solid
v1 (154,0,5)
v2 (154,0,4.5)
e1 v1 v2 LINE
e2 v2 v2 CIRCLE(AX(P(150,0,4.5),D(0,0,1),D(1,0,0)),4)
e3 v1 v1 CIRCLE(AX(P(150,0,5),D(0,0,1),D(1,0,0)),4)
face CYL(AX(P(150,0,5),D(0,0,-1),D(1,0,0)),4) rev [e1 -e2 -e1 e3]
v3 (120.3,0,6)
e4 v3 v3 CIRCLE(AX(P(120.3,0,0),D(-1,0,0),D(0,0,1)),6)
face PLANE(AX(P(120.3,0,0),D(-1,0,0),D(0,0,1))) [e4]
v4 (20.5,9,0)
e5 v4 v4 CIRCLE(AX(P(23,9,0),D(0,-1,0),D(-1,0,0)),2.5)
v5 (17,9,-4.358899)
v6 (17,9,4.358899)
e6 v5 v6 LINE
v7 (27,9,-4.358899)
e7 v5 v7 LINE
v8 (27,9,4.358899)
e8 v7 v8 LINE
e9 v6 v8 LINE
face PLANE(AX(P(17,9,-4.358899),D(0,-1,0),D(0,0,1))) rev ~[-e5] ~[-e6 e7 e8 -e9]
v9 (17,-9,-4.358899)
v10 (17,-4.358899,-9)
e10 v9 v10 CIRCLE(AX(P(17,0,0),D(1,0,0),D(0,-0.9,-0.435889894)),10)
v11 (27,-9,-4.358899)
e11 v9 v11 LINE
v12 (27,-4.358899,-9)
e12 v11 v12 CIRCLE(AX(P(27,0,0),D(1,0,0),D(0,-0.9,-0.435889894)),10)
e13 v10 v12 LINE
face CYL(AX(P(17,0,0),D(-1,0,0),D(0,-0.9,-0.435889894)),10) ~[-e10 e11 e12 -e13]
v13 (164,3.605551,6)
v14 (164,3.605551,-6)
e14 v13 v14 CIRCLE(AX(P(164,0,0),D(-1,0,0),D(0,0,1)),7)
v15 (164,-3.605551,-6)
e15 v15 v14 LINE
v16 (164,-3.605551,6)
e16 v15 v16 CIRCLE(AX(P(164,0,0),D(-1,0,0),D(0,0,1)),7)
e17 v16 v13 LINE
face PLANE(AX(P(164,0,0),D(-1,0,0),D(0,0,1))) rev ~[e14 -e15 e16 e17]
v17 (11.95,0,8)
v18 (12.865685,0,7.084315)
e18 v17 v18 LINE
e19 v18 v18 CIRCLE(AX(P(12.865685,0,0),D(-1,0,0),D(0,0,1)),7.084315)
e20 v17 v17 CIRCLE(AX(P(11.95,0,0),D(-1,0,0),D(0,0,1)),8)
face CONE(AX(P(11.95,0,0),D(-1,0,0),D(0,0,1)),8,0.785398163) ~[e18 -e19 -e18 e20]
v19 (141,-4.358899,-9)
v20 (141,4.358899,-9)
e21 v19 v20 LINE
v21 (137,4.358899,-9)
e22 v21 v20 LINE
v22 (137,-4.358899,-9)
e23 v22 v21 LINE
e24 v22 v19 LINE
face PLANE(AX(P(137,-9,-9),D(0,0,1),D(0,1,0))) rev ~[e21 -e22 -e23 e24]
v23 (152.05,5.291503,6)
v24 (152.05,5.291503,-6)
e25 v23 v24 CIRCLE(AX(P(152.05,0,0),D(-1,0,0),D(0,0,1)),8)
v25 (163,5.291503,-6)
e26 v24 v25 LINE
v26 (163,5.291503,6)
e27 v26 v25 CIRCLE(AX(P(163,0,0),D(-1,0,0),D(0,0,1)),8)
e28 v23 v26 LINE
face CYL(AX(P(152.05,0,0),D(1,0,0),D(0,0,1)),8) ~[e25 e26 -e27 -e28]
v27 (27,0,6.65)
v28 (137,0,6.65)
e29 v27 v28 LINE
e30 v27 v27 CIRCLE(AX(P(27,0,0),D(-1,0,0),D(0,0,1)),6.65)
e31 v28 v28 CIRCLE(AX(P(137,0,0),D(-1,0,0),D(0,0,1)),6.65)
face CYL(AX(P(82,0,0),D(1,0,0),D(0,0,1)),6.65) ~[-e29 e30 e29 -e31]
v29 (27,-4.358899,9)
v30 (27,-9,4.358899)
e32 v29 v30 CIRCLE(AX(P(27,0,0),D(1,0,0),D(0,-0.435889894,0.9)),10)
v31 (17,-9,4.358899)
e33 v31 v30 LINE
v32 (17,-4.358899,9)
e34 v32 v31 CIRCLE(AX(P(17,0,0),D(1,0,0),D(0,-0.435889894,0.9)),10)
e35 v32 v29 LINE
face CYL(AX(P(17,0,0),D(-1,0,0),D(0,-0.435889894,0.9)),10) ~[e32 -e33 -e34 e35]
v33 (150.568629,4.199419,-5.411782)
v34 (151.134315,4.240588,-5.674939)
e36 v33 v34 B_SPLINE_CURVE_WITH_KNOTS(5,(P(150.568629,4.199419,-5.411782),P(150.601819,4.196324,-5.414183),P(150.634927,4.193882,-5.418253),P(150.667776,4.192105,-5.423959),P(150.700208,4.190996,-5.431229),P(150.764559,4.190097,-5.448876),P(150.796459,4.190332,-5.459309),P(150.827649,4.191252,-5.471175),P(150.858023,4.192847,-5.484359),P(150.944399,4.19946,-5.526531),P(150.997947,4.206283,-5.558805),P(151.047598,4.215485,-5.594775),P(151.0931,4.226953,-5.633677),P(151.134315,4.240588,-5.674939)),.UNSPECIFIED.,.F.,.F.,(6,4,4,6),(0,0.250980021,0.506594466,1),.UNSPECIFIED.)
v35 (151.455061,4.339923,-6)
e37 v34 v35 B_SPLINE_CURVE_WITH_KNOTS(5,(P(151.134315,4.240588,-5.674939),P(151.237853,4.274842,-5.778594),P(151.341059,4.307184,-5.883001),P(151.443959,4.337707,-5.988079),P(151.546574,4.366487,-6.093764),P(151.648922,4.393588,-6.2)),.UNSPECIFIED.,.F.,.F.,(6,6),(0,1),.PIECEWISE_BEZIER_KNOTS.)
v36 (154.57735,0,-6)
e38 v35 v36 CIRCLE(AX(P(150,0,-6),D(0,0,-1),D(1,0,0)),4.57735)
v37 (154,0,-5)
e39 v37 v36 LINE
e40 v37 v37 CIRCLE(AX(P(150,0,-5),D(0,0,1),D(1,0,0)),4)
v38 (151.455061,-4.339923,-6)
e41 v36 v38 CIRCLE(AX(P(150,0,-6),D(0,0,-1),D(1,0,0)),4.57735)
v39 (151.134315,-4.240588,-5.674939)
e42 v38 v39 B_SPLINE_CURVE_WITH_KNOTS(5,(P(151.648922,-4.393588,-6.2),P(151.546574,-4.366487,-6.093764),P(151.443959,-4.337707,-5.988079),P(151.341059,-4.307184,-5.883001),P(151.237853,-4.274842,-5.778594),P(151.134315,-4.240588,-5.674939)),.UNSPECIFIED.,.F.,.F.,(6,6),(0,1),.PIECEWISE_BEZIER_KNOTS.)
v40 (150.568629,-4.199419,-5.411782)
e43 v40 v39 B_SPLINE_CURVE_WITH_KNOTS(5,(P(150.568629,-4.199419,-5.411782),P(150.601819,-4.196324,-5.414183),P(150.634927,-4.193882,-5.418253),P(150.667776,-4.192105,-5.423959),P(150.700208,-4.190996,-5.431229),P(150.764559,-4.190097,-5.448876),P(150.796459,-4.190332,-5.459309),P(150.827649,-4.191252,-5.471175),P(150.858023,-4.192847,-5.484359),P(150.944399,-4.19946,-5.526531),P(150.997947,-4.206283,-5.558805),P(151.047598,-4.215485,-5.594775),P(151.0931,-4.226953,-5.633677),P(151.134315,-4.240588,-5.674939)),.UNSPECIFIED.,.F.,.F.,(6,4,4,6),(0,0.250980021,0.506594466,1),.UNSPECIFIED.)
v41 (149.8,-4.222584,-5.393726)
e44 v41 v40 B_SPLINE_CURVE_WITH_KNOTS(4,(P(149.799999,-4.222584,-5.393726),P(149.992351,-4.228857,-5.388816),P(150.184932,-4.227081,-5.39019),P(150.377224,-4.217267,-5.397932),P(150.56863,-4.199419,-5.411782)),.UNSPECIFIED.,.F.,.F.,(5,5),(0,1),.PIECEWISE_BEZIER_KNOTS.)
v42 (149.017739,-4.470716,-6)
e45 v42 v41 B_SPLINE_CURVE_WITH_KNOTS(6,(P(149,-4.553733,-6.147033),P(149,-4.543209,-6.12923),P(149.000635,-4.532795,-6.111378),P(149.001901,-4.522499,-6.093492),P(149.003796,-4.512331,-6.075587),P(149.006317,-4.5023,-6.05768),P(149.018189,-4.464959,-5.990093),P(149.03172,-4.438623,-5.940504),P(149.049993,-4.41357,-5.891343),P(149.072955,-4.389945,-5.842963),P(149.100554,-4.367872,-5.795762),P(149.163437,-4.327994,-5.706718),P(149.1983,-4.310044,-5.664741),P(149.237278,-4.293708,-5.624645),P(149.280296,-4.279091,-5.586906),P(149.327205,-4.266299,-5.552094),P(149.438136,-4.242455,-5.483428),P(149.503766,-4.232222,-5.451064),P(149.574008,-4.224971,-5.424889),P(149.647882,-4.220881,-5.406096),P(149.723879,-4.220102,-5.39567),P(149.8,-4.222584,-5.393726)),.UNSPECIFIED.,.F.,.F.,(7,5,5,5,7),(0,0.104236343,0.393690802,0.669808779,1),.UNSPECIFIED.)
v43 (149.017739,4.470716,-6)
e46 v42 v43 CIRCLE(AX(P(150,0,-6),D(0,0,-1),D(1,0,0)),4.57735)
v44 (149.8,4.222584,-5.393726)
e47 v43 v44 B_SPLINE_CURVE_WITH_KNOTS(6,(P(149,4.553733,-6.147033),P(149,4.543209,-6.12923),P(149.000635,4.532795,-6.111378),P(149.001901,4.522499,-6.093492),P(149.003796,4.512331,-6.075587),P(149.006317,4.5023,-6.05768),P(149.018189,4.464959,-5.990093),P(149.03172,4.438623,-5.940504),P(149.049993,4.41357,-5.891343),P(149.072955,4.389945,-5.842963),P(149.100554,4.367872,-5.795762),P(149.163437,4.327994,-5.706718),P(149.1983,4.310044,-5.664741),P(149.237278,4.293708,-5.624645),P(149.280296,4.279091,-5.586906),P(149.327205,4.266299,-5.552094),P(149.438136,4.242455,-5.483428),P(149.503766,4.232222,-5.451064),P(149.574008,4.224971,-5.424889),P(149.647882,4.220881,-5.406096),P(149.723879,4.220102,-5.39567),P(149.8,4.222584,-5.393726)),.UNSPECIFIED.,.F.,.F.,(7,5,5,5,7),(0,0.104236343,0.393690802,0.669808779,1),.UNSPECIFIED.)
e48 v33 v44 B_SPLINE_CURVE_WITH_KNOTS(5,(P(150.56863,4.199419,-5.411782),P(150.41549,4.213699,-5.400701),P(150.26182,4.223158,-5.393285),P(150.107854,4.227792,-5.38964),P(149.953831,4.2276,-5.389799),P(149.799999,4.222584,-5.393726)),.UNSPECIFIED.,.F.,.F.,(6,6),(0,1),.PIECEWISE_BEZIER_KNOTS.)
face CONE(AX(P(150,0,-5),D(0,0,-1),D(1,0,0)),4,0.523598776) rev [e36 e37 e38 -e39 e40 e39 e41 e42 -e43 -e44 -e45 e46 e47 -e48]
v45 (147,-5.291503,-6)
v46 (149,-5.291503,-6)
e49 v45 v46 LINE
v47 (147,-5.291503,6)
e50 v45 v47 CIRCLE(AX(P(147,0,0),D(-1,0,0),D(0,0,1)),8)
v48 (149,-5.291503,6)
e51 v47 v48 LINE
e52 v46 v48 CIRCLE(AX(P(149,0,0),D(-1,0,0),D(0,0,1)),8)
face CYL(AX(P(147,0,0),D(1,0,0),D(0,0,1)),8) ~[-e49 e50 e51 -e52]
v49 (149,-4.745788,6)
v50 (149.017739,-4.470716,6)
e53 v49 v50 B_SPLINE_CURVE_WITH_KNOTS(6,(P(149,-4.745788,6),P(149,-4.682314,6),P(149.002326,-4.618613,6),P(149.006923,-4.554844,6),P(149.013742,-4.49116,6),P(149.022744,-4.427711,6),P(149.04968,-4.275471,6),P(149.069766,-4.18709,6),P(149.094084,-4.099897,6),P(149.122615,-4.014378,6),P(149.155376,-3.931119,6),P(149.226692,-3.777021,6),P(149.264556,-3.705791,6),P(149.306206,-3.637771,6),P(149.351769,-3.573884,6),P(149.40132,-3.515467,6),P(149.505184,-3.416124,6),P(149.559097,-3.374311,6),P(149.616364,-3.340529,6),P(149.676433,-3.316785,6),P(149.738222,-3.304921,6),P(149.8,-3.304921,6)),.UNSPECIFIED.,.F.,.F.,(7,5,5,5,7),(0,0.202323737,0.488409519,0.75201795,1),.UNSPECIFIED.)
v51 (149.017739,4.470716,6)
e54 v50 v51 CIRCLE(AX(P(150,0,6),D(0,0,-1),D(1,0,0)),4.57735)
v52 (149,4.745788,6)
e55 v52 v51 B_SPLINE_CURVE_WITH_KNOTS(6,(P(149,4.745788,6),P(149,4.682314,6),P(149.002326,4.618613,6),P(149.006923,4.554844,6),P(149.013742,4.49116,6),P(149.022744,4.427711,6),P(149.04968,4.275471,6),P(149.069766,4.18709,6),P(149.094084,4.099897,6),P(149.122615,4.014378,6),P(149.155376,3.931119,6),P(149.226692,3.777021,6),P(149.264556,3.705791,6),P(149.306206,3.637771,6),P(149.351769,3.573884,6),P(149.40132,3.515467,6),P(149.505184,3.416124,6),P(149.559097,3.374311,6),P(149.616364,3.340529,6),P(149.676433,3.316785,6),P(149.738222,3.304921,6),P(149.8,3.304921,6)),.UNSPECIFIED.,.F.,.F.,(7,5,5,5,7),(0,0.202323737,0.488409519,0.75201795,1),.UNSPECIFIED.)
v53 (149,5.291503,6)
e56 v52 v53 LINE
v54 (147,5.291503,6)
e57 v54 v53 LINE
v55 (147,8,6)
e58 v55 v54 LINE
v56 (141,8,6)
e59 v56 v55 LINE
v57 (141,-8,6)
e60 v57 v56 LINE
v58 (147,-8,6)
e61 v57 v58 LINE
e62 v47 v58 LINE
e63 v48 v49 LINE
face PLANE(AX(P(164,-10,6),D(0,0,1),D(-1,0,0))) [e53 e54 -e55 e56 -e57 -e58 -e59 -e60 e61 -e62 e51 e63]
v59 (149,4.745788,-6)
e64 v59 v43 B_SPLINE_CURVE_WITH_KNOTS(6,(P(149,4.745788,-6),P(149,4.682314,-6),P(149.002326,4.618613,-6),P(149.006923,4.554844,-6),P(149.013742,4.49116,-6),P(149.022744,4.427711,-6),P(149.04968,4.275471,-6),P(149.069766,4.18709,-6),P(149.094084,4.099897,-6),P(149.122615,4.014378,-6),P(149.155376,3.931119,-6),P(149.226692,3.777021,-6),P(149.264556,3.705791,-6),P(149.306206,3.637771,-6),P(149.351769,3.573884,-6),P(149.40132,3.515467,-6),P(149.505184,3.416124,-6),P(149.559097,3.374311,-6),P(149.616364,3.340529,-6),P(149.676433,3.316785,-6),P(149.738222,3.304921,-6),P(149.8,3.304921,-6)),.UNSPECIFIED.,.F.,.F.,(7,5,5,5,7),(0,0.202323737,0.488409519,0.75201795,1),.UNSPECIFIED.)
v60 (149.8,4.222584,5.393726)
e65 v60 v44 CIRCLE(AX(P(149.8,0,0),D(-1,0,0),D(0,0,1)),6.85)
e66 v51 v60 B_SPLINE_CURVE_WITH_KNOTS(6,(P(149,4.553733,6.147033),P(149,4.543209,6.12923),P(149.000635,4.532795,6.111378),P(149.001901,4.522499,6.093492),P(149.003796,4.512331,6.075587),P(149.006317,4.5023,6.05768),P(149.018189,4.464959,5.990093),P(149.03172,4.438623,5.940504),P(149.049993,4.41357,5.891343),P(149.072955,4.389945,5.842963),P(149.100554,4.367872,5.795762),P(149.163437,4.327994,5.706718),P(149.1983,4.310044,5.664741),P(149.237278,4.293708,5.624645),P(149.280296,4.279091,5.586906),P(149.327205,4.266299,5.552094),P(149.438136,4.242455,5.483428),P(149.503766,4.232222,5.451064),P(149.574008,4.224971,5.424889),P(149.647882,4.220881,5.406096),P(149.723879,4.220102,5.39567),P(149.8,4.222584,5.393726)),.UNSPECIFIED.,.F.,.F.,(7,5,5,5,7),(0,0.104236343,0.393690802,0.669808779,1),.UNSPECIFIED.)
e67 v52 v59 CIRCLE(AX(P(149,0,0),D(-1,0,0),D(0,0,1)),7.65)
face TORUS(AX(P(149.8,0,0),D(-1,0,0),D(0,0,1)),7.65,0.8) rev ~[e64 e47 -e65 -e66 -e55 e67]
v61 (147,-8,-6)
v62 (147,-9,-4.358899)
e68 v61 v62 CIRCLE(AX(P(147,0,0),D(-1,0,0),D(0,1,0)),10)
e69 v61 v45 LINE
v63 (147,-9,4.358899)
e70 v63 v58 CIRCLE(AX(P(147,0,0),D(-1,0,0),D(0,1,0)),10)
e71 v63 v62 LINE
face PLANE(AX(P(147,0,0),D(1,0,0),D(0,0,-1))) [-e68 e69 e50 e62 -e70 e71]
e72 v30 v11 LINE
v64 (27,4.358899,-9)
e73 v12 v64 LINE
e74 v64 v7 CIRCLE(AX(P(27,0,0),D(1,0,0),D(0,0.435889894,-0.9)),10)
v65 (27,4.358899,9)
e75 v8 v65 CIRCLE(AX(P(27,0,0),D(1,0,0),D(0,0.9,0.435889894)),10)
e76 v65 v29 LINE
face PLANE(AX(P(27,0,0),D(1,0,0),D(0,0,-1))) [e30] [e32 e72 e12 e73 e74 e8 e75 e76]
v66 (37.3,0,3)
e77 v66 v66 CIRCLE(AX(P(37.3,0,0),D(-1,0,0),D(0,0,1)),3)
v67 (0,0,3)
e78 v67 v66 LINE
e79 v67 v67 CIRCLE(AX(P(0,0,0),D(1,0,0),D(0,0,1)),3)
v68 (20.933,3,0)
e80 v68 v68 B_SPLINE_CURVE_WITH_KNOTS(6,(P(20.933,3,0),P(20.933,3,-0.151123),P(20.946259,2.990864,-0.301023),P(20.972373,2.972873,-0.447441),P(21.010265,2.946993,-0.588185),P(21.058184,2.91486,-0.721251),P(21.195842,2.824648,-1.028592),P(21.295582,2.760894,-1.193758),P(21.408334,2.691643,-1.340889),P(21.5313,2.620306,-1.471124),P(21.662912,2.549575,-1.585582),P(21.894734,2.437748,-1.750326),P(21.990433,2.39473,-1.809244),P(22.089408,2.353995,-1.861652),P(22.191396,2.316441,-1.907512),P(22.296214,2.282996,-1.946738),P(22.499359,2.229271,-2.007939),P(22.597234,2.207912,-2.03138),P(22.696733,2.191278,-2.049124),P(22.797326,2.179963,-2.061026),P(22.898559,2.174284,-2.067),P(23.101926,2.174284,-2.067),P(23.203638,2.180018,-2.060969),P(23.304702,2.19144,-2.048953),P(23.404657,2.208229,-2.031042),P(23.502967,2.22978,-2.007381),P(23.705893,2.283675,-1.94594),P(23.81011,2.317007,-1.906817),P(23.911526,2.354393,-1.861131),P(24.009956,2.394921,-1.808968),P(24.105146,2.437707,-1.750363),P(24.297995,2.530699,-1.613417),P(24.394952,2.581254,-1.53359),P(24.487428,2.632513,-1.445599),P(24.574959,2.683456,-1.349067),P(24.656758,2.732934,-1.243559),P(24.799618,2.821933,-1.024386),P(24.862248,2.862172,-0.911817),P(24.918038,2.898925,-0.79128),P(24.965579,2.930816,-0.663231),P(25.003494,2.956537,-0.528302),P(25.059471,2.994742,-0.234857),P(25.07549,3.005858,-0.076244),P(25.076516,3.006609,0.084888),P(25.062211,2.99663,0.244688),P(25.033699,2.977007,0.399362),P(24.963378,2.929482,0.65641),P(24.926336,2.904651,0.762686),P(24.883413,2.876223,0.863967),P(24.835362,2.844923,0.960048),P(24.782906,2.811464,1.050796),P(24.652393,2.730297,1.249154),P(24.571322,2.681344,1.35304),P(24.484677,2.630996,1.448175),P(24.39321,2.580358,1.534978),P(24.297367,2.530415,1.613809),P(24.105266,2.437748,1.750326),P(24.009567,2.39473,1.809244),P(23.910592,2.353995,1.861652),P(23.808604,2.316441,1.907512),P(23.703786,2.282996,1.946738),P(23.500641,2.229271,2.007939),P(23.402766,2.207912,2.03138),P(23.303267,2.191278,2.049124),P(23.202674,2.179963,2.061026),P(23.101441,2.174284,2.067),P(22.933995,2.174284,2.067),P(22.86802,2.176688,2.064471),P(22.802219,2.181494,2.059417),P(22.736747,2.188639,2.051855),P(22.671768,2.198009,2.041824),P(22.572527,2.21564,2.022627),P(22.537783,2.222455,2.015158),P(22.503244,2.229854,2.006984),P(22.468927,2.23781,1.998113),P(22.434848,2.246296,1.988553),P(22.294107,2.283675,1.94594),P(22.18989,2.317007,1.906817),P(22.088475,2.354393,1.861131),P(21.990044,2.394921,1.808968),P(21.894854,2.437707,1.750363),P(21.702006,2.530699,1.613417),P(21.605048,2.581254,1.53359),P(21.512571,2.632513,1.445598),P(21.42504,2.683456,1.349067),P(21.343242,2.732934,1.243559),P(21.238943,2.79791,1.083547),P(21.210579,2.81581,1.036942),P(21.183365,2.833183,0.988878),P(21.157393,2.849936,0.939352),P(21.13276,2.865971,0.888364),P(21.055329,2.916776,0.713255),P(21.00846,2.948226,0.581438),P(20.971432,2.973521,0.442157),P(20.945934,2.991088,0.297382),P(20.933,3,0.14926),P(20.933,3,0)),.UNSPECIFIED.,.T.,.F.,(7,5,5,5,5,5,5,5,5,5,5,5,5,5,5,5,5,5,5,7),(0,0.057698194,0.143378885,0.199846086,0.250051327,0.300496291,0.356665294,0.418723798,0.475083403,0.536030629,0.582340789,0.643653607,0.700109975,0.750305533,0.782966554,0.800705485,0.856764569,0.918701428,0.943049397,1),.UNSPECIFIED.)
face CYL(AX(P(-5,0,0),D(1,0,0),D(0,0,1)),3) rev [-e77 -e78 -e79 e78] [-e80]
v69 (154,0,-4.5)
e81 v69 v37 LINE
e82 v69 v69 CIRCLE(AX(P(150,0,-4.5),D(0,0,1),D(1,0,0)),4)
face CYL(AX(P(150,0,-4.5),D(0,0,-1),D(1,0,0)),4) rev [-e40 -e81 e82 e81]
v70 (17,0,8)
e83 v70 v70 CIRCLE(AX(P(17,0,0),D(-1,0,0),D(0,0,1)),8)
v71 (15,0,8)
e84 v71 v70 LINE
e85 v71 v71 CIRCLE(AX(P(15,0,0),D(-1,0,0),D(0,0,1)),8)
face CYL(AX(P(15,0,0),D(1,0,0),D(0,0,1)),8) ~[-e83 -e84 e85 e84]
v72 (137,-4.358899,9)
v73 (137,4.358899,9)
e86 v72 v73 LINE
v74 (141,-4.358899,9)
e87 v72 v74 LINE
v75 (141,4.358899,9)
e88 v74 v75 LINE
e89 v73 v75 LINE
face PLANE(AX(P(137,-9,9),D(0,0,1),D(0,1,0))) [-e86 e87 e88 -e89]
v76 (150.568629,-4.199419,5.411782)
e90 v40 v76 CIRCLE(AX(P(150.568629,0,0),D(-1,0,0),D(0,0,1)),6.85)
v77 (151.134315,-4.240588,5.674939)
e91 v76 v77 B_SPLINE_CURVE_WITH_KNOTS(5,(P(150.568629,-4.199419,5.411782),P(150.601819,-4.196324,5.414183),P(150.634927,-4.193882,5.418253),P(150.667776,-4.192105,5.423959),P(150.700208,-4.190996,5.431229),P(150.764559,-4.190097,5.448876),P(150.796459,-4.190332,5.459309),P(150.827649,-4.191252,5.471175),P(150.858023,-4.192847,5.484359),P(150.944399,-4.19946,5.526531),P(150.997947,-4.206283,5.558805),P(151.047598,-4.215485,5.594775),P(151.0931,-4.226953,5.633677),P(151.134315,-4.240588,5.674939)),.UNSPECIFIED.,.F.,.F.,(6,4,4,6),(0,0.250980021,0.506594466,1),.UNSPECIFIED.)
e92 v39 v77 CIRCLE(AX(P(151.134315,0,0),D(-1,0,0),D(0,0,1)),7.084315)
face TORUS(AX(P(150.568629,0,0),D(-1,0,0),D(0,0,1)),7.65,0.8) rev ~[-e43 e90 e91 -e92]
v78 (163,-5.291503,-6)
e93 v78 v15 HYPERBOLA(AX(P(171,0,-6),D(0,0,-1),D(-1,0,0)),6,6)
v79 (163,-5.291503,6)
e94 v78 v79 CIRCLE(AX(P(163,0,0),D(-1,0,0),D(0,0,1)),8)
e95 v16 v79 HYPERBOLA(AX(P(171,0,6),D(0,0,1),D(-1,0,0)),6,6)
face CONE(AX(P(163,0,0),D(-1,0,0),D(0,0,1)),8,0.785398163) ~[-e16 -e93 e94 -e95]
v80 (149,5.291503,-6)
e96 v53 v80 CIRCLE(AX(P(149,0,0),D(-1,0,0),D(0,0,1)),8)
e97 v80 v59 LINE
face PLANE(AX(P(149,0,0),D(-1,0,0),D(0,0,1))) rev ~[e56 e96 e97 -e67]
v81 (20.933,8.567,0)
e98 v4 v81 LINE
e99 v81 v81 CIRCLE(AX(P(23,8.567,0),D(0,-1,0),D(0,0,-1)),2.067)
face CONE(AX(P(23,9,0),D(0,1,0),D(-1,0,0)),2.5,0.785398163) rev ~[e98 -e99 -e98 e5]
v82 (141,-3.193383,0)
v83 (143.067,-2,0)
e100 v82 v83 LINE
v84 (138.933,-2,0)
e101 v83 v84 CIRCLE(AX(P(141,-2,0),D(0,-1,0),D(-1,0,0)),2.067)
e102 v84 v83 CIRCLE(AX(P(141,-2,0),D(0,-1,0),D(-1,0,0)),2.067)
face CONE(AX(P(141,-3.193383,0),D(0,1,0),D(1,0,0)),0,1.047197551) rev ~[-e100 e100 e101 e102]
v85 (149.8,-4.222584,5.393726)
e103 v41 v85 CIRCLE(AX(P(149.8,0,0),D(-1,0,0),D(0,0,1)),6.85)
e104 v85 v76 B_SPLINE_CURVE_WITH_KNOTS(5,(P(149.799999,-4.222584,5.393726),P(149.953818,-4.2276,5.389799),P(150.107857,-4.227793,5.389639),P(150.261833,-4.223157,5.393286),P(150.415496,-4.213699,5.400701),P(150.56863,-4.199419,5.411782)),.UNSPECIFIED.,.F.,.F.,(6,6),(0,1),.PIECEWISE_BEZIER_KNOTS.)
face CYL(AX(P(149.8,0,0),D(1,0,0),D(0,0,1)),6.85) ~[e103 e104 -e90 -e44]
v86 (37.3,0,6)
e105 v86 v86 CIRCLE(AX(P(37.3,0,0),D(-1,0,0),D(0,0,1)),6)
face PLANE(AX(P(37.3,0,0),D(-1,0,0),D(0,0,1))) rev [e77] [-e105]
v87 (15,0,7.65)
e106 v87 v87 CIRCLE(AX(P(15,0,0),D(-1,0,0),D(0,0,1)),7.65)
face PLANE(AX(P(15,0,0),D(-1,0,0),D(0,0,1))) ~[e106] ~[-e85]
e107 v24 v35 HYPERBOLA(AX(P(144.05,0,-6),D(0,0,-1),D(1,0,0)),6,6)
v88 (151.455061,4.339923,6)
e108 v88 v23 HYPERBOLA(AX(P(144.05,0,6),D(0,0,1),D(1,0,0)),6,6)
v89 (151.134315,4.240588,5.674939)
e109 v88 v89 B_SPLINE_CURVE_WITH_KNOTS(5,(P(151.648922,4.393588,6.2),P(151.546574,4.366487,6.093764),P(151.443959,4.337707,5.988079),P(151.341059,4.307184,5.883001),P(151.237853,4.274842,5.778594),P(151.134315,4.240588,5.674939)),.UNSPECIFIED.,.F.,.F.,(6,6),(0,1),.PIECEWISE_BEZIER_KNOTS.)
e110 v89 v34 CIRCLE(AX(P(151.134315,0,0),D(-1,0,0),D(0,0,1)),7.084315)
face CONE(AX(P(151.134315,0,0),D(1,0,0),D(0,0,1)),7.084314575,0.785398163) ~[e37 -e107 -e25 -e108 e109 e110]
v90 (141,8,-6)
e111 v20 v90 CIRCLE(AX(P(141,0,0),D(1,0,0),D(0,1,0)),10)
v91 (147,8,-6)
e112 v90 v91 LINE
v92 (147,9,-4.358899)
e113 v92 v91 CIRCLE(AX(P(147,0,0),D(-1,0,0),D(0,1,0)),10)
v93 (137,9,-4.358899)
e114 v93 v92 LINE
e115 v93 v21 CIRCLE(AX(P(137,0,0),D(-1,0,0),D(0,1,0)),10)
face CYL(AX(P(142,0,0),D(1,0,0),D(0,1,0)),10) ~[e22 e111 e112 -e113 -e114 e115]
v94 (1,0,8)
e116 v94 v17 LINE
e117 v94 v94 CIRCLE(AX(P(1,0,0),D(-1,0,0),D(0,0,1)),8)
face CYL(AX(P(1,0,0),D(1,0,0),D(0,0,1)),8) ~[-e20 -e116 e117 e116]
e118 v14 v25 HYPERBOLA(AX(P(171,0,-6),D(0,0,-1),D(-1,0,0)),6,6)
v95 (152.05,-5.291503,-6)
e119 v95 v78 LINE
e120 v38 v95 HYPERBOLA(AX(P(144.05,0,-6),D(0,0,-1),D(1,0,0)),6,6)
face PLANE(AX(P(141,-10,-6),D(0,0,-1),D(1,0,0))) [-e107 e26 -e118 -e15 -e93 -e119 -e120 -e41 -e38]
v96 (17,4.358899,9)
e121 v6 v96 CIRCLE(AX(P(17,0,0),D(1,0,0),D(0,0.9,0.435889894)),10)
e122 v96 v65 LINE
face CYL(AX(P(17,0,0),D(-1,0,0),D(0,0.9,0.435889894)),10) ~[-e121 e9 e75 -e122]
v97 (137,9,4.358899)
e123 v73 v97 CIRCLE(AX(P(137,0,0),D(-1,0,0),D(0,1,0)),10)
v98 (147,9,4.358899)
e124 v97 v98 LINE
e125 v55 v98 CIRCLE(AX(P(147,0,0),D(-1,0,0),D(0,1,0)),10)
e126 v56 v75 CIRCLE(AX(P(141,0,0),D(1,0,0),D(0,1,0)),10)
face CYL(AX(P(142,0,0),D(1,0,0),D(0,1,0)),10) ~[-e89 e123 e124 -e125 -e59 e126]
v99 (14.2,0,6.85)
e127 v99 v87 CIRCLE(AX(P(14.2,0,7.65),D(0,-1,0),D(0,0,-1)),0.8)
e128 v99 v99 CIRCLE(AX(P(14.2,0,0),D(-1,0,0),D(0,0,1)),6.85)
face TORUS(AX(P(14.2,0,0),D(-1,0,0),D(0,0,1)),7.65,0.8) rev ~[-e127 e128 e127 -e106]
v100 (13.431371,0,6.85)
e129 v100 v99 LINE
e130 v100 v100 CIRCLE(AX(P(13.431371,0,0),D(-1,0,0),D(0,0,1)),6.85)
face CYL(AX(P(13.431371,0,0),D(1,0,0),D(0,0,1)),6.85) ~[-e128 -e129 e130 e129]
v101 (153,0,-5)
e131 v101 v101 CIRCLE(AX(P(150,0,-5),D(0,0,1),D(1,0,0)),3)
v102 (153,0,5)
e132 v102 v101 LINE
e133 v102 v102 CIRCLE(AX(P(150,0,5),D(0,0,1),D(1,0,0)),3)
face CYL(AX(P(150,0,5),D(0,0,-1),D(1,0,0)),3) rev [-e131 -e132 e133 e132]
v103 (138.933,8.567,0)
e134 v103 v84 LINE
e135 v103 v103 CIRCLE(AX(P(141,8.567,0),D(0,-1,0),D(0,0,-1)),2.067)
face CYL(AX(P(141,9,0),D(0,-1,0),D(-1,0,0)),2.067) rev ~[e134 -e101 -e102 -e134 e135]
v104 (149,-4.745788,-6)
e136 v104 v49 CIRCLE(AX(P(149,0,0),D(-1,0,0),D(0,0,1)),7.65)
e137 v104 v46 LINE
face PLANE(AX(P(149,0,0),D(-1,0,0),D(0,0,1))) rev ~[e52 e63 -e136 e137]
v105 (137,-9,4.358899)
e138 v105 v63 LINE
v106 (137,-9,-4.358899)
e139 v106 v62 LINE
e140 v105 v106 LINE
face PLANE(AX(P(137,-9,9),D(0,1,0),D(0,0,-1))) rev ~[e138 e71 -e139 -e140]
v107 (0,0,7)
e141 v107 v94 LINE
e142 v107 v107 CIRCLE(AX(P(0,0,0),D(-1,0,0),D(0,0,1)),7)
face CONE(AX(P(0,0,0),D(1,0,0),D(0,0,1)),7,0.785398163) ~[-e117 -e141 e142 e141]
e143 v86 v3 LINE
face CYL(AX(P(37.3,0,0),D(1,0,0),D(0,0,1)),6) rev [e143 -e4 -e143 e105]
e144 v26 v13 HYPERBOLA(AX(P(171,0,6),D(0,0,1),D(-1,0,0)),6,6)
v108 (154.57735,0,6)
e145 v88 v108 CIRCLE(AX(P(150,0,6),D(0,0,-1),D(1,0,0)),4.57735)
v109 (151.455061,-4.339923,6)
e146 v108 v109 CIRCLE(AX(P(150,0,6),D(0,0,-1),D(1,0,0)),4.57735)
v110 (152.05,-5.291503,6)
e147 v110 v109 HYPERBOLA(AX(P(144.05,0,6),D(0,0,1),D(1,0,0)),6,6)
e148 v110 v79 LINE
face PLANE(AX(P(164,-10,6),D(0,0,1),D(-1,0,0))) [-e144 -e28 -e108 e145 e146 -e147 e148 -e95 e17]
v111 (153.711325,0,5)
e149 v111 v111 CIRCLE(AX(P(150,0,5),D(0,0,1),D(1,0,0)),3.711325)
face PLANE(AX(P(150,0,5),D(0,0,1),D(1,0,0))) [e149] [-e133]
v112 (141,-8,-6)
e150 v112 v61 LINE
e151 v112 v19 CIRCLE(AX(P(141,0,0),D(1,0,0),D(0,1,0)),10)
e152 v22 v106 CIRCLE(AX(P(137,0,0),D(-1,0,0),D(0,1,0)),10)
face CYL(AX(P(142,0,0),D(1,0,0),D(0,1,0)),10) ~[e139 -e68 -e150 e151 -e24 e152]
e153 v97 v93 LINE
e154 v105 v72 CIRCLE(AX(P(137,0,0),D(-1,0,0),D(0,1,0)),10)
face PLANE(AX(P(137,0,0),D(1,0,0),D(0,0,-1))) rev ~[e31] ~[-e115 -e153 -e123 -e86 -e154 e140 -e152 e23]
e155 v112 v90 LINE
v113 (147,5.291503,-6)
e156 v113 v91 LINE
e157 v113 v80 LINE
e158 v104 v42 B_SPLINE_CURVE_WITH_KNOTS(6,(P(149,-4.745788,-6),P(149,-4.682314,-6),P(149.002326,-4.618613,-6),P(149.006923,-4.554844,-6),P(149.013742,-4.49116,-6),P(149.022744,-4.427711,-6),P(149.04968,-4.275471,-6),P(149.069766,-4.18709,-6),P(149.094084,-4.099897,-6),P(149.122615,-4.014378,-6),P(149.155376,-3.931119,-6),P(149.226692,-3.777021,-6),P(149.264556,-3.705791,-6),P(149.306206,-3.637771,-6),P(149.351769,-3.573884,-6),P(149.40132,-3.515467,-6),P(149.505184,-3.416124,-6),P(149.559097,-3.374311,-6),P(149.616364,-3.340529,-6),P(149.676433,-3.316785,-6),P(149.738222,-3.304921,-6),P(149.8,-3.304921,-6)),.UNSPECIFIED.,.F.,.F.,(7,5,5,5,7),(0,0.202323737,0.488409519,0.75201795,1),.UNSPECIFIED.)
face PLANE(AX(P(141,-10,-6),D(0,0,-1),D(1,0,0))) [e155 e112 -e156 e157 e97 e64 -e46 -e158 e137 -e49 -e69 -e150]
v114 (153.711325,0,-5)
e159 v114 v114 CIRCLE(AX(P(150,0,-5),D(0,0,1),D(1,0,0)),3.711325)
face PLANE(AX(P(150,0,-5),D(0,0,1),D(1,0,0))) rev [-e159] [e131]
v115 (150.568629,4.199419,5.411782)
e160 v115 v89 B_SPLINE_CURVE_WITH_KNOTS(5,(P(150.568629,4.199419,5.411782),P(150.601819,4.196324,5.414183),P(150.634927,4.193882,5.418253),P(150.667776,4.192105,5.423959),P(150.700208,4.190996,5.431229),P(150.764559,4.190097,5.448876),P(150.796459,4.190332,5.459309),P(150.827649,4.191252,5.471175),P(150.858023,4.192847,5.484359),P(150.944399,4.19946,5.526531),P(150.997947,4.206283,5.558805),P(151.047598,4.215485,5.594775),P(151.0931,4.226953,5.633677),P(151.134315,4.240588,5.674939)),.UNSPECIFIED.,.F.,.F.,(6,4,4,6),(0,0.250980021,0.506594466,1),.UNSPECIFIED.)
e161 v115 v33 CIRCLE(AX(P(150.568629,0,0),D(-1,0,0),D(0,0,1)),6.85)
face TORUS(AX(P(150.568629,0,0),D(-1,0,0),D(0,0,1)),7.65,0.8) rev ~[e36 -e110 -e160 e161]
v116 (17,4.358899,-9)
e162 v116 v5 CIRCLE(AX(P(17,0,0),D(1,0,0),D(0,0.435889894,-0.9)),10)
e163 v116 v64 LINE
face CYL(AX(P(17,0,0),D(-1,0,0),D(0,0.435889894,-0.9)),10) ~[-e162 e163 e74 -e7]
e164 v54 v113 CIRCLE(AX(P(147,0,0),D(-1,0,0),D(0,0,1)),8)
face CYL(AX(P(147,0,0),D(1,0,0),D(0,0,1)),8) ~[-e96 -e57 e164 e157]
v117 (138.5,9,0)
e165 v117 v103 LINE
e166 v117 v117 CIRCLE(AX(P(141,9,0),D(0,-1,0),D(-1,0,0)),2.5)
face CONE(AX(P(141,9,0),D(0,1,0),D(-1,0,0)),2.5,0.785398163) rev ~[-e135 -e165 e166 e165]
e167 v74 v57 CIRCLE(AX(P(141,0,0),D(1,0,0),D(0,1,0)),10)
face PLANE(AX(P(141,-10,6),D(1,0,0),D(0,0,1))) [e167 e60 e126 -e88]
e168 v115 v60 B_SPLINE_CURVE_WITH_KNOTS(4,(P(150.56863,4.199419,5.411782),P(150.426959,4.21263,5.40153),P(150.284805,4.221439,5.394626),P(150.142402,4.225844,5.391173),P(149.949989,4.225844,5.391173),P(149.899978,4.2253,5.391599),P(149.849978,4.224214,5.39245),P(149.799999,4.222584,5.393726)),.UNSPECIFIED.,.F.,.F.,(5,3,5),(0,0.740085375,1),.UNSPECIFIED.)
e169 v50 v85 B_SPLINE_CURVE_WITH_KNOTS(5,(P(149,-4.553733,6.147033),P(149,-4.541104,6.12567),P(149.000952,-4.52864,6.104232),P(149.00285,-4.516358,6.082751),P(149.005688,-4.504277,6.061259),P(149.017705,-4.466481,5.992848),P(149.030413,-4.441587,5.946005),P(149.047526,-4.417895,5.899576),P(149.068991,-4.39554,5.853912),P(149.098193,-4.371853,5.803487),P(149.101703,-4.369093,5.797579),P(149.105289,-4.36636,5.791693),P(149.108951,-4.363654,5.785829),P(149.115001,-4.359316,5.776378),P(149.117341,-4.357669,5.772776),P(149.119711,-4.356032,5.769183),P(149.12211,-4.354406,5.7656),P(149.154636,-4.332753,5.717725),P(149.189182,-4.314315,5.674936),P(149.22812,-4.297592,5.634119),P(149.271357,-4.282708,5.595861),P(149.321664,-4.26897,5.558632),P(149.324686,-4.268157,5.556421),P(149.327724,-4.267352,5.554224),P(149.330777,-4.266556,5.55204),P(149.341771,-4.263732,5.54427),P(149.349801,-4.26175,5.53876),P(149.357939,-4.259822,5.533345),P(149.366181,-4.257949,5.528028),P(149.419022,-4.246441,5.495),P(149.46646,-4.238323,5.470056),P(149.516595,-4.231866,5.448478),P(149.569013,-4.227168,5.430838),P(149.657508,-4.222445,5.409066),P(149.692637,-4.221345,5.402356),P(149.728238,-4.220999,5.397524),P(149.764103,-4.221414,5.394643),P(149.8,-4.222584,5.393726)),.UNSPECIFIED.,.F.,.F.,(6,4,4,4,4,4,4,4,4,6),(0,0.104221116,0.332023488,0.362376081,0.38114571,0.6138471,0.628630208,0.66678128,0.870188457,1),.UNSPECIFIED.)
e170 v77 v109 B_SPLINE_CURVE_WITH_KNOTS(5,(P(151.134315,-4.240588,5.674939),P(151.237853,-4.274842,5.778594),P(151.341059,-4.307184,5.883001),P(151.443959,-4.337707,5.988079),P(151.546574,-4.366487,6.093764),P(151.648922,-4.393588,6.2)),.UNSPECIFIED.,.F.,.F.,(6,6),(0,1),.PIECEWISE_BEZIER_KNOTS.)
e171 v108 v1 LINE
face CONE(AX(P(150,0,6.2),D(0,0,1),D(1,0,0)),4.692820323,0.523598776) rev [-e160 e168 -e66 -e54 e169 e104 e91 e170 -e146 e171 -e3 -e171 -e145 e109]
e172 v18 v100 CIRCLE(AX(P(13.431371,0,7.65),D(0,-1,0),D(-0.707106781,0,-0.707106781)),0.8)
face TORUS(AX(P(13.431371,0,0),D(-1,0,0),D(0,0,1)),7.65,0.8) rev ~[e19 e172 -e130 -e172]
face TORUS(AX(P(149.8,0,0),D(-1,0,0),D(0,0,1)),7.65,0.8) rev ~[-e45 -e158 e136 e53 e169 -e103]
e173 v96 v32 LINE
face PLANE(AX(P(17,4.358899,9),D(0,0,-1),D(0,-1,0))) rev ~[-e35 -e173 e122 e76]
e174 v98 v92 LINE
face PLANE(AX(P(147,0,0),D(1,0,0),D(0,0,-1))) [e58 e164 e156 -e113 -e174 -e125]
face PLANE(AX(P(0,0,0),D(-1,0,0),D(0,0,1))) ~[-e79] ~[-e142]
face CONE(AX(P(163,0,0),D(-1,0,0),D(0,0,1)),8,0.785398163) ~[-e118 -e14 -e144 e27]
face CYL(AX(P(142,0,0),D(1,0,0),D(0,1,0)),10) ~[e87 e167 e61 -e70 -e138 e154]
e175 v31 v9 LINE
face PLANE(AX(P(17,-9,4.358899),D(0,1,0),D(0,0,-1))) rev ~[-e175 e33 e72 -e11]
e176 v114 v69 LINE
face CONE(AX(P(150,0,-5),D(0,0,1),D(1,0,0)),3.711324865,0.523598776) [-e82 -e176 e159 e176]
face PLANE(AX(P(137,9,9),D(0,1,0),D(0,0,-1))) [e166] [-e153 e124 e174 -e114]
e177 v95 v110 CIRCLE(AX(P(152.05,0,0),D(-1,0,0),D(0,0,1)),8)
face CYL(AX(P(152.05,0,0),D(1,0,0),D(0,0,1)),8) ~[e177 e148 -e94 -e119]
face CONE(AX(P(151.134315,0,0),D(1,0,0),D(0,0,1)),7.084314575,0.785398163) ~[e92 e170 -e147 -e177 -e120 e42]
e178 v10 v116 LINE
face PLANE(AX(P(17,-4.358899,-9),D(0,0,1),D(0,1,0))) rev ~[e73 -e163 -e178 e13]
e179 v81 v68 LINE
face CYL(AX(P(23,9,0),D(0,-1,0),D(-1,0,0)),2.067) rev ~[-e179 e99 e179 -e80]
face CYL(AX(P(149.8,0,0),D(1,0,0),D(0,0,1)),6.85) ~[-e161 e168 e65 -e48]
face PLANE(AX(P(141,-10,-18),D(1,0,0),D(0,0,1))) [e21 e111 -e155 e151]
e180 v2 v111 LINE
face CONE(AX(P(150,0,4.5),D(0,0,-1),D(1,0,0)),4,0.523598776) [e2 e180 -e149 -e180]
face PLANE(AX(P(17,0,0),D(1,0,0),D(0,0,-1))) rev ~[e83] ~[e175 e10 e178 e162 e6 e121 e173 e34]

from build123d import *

# Parameters (mm, degrees)
BOSS_EXTRUDE1_DEPTH     = 10
SKETCH3_W               = 110
SKETCH3_H               = 6.65
SKETCH4_W               = 18
SKETCH4_H               = 18
BOSS_EXTRUDE2_DEPTH     = 10
SKETCH5_W               = 10
SKETCH5_H               = 10
CUT_EXTRUDE1_DEPTH      = 10
CUT_EXTRUDE1_DEPTH_BACK = 10
HOLE1_D                 = 4.134
HOLE1_DEPTH             = 9
HOLE1_CSINK_D           = 5
HOLE1_CSINK_ANGLE       = 90
HOLE2_D                 = 4.134
HOLE2_DEPTH             = 11
HOLE2_CSINK_D           = 5
HOLE2_CSINK_ANGLE       = 90
HOLE2_TIP               = 1.193383006


with BuildPart() as part:
    # Sketch1 → Revolve1 (revolve)
    with BuildSketch(Plane.XY):
        with BuildLine():
            Line((0, 0), (0, 7))
            Line((0, 7), (1, 8))
            Line((1, 8), (11.95, 8))
            Line((11.95, 8), (12.865685425, 7.084314575))
            ThreePointArc((12.865685425, 7.084314575), (13.125224104, 6.910896374), (13.43137085, 6.85))
            Line((13.43137085, 6.85), (14.2, 6.85))
            ThreePointArc((14.2, 6.85), (14.765685425, 7.084314575), (15, 7.65))
            Line((15, 7.65), (15, 8))
            Line((15, 8), (17, 8))
            Line((17, 8), (17, 0))
            Line((17, 0), (0, 0))
        make_face()
    revolve(axis=Axis((17, 0, 0), (-1, 0, 0)))

    # Sketch2 → Boss-Extrude1 (add)
    with BuildSketch(Plane(origin=(17, 0, 0), x_dir=(0, 0, -1), z_dir=(1, 0, 0))):
        with BuildLine():
            Line((-4.358898944, -9), (4.358898944, -9))
            ThreePointArc((4.358898944, -9), (7.071067812, -7.071067812), (9, -4.358898944))
            Line((9, -4.358898944), (9, 4.358898944))
            ThreePointArc((9, 4.358898944), (7.071067812, 7.071067812), (4.358898944, 9))
            Line((4.358898944, 9), (-4.358898944, 9))
            ThreePointArc((-4.358898944, 9), (-7.071067812, 7.071067812), (-9, 4.358898944))
            Line((-9, 4.358898944), (-9, -4.358898944))
            ThreePointArc((-9, -4.358898944), (-7.071067812, -7.071067812), (-4.358898944, -9))
        make_face()
    extrude(amount=BOSS_EXTRUDE1_DEPTH)

    # Sketch3 → Revolve2 (revolve)
    with BuildSketch(Plane.XY):
        with Locations((82, 3.325)):
            Rectangle(SKETCH3_W, SKETCH3_H)
    revolve(axis=Axis((137, 0, 0), (-1, 0, 0)))

    # Sketch4 → Boss-Extrude2 (add)
    with BuildSketch(Plane(origin=(137, 0, 0), x_dir=(0, 0, -1), z_dir=(1, 0, 0))):
        Rectangle(SKETCH4_W, SKETCH4_H)
    extrude(amount=BOSS_EXTRUDE2_DEPTH)

    # Sketch5 → Cut-Revolve1 (revolve, cut)
    with BuildSketch(Plane.XY):
        with Locations((142, 15)):
            Rectangle(SKETCH5_W, SKETCH5_H)
    revolve(axis=Axis((147, 0, 0), (-1, 0, 0)), mode=Mode.SUBTRACT)

    # Sketch6 → Revolve3 (revolve)
    with BuildSketch(Plane.XY):
        with BuildLine():
            Line((147, 0), (147, 8))
            Line((147, 8), (149, 8))
            Line((149, 8), (149, 7.65))
            ThreePointArc((149, 7.65), (149.234314575, 7.084314575), (149.8, 6.85))
            Line((149.8, 6.85), (150.56862915, 6.85))
            ThreePointArc((150.56862915, 6.85), (150.874775896, 6.910896374), (151.134314575, 7.084314575))
            Line((151.134314575, 7.084314575), (152.05, 8))
            Line((152.05, 8), (163, 8))
            Line((163, 8), (164, 7))
            Line((164, 7), (164, 0))
            Line((164, 0), (147, 0))
        make_face()
    revolve(axis=Axis((164, 0, 0), (-1, 0, 0)))

    # Sketch7 → Cut-Extrude1 (cut, two sides: drawn at the far end of the back side and taken through both)
    with BuildSketch(Plane(origin=(0, 0, 0), x_dir=(1, 0, 0), z_dir=(0, 1, 0)).offset(-CUT_EXTRUDE1_DEPTH_BACK)):
        Polygon((141, 18), (141, 6), (164, 6), (164, -6), (141, -6), (141, -18), (176, -18), (176, 18), align=None)
    extrude(amount=CUT_EXTRUDE1_DEPTH + CUT_EXTRUDE1_DEPTH_BACK, mode=Mode.SUBTRACT)

    # Sketch8 → Cut-Revolve2 (revolve, cut)
    with BuildSketch(Plane(origin=(150, 0, 0), x_dir=(0, 0, -1), z_dir=(1, 0, 0))):
        Polygon((-6.2, 0), (-6.2, 4.692820323), (-5, 4), (-4.5, 4), (-5, 3.711324865), (-5, 3), (5, 3), (5, 3.711324865), (4.5, 4), (5, 4), (6.2, 4.692820323), (6.2, 0), align=None)
    revolve(axis=Axis((150, 0, -5), (0, 0, 1)), mode=Mode.SUBTRACT)

    # Hole1
    with Locations(Plane(origin=(0, 9, 0), x_dir=(1, 0, 0), z_dir=(0, 1, 0))):
        with Locations((23, 0)):
            CounterSinkHole(HOLE1_D / 2, HOLE1_CSINK_D / 2, depth=HOLE1_DEPTH, counter_sink_angle=HOLE1_CSINK_ANGLE)

    # Hole2
    with Locations(Plane(origin=(0, 9, 0), x_dir=(1, 0, 0), z_dir=(0, 1, 0))):
        with Locations((141, 0)):
            CounterSinkHole(HOLE2_D / 2, HOLE2_CSINK_D / 2, depth=HOLE2_DEPTH, counter_sink_angle=HOLE2_CSINK_ANGLE)
            with Locations((0, 0, -(HOLE2_DEPTH + HOLE2_TIP / 2))):  # 120° drill point
                Cone(0, HOLE2_D / 2, HOLE2_TIP, mode=Mode.SUBTRACT)

    # Sketch13 → Cut-Revolve3 (revolve, cut)
    with BuildSketch(Plane.XY):
        Polygon((-5, 0), (-5, 3), (37.3, 3), (37.3, 6), (120.3, 6), (120.3, 0), align=None)
    revolve(axis=Axis((120.3, 0, 0), (-1, 0, 0)), mode=Mode.SUBTRACT)


solid = part.part
